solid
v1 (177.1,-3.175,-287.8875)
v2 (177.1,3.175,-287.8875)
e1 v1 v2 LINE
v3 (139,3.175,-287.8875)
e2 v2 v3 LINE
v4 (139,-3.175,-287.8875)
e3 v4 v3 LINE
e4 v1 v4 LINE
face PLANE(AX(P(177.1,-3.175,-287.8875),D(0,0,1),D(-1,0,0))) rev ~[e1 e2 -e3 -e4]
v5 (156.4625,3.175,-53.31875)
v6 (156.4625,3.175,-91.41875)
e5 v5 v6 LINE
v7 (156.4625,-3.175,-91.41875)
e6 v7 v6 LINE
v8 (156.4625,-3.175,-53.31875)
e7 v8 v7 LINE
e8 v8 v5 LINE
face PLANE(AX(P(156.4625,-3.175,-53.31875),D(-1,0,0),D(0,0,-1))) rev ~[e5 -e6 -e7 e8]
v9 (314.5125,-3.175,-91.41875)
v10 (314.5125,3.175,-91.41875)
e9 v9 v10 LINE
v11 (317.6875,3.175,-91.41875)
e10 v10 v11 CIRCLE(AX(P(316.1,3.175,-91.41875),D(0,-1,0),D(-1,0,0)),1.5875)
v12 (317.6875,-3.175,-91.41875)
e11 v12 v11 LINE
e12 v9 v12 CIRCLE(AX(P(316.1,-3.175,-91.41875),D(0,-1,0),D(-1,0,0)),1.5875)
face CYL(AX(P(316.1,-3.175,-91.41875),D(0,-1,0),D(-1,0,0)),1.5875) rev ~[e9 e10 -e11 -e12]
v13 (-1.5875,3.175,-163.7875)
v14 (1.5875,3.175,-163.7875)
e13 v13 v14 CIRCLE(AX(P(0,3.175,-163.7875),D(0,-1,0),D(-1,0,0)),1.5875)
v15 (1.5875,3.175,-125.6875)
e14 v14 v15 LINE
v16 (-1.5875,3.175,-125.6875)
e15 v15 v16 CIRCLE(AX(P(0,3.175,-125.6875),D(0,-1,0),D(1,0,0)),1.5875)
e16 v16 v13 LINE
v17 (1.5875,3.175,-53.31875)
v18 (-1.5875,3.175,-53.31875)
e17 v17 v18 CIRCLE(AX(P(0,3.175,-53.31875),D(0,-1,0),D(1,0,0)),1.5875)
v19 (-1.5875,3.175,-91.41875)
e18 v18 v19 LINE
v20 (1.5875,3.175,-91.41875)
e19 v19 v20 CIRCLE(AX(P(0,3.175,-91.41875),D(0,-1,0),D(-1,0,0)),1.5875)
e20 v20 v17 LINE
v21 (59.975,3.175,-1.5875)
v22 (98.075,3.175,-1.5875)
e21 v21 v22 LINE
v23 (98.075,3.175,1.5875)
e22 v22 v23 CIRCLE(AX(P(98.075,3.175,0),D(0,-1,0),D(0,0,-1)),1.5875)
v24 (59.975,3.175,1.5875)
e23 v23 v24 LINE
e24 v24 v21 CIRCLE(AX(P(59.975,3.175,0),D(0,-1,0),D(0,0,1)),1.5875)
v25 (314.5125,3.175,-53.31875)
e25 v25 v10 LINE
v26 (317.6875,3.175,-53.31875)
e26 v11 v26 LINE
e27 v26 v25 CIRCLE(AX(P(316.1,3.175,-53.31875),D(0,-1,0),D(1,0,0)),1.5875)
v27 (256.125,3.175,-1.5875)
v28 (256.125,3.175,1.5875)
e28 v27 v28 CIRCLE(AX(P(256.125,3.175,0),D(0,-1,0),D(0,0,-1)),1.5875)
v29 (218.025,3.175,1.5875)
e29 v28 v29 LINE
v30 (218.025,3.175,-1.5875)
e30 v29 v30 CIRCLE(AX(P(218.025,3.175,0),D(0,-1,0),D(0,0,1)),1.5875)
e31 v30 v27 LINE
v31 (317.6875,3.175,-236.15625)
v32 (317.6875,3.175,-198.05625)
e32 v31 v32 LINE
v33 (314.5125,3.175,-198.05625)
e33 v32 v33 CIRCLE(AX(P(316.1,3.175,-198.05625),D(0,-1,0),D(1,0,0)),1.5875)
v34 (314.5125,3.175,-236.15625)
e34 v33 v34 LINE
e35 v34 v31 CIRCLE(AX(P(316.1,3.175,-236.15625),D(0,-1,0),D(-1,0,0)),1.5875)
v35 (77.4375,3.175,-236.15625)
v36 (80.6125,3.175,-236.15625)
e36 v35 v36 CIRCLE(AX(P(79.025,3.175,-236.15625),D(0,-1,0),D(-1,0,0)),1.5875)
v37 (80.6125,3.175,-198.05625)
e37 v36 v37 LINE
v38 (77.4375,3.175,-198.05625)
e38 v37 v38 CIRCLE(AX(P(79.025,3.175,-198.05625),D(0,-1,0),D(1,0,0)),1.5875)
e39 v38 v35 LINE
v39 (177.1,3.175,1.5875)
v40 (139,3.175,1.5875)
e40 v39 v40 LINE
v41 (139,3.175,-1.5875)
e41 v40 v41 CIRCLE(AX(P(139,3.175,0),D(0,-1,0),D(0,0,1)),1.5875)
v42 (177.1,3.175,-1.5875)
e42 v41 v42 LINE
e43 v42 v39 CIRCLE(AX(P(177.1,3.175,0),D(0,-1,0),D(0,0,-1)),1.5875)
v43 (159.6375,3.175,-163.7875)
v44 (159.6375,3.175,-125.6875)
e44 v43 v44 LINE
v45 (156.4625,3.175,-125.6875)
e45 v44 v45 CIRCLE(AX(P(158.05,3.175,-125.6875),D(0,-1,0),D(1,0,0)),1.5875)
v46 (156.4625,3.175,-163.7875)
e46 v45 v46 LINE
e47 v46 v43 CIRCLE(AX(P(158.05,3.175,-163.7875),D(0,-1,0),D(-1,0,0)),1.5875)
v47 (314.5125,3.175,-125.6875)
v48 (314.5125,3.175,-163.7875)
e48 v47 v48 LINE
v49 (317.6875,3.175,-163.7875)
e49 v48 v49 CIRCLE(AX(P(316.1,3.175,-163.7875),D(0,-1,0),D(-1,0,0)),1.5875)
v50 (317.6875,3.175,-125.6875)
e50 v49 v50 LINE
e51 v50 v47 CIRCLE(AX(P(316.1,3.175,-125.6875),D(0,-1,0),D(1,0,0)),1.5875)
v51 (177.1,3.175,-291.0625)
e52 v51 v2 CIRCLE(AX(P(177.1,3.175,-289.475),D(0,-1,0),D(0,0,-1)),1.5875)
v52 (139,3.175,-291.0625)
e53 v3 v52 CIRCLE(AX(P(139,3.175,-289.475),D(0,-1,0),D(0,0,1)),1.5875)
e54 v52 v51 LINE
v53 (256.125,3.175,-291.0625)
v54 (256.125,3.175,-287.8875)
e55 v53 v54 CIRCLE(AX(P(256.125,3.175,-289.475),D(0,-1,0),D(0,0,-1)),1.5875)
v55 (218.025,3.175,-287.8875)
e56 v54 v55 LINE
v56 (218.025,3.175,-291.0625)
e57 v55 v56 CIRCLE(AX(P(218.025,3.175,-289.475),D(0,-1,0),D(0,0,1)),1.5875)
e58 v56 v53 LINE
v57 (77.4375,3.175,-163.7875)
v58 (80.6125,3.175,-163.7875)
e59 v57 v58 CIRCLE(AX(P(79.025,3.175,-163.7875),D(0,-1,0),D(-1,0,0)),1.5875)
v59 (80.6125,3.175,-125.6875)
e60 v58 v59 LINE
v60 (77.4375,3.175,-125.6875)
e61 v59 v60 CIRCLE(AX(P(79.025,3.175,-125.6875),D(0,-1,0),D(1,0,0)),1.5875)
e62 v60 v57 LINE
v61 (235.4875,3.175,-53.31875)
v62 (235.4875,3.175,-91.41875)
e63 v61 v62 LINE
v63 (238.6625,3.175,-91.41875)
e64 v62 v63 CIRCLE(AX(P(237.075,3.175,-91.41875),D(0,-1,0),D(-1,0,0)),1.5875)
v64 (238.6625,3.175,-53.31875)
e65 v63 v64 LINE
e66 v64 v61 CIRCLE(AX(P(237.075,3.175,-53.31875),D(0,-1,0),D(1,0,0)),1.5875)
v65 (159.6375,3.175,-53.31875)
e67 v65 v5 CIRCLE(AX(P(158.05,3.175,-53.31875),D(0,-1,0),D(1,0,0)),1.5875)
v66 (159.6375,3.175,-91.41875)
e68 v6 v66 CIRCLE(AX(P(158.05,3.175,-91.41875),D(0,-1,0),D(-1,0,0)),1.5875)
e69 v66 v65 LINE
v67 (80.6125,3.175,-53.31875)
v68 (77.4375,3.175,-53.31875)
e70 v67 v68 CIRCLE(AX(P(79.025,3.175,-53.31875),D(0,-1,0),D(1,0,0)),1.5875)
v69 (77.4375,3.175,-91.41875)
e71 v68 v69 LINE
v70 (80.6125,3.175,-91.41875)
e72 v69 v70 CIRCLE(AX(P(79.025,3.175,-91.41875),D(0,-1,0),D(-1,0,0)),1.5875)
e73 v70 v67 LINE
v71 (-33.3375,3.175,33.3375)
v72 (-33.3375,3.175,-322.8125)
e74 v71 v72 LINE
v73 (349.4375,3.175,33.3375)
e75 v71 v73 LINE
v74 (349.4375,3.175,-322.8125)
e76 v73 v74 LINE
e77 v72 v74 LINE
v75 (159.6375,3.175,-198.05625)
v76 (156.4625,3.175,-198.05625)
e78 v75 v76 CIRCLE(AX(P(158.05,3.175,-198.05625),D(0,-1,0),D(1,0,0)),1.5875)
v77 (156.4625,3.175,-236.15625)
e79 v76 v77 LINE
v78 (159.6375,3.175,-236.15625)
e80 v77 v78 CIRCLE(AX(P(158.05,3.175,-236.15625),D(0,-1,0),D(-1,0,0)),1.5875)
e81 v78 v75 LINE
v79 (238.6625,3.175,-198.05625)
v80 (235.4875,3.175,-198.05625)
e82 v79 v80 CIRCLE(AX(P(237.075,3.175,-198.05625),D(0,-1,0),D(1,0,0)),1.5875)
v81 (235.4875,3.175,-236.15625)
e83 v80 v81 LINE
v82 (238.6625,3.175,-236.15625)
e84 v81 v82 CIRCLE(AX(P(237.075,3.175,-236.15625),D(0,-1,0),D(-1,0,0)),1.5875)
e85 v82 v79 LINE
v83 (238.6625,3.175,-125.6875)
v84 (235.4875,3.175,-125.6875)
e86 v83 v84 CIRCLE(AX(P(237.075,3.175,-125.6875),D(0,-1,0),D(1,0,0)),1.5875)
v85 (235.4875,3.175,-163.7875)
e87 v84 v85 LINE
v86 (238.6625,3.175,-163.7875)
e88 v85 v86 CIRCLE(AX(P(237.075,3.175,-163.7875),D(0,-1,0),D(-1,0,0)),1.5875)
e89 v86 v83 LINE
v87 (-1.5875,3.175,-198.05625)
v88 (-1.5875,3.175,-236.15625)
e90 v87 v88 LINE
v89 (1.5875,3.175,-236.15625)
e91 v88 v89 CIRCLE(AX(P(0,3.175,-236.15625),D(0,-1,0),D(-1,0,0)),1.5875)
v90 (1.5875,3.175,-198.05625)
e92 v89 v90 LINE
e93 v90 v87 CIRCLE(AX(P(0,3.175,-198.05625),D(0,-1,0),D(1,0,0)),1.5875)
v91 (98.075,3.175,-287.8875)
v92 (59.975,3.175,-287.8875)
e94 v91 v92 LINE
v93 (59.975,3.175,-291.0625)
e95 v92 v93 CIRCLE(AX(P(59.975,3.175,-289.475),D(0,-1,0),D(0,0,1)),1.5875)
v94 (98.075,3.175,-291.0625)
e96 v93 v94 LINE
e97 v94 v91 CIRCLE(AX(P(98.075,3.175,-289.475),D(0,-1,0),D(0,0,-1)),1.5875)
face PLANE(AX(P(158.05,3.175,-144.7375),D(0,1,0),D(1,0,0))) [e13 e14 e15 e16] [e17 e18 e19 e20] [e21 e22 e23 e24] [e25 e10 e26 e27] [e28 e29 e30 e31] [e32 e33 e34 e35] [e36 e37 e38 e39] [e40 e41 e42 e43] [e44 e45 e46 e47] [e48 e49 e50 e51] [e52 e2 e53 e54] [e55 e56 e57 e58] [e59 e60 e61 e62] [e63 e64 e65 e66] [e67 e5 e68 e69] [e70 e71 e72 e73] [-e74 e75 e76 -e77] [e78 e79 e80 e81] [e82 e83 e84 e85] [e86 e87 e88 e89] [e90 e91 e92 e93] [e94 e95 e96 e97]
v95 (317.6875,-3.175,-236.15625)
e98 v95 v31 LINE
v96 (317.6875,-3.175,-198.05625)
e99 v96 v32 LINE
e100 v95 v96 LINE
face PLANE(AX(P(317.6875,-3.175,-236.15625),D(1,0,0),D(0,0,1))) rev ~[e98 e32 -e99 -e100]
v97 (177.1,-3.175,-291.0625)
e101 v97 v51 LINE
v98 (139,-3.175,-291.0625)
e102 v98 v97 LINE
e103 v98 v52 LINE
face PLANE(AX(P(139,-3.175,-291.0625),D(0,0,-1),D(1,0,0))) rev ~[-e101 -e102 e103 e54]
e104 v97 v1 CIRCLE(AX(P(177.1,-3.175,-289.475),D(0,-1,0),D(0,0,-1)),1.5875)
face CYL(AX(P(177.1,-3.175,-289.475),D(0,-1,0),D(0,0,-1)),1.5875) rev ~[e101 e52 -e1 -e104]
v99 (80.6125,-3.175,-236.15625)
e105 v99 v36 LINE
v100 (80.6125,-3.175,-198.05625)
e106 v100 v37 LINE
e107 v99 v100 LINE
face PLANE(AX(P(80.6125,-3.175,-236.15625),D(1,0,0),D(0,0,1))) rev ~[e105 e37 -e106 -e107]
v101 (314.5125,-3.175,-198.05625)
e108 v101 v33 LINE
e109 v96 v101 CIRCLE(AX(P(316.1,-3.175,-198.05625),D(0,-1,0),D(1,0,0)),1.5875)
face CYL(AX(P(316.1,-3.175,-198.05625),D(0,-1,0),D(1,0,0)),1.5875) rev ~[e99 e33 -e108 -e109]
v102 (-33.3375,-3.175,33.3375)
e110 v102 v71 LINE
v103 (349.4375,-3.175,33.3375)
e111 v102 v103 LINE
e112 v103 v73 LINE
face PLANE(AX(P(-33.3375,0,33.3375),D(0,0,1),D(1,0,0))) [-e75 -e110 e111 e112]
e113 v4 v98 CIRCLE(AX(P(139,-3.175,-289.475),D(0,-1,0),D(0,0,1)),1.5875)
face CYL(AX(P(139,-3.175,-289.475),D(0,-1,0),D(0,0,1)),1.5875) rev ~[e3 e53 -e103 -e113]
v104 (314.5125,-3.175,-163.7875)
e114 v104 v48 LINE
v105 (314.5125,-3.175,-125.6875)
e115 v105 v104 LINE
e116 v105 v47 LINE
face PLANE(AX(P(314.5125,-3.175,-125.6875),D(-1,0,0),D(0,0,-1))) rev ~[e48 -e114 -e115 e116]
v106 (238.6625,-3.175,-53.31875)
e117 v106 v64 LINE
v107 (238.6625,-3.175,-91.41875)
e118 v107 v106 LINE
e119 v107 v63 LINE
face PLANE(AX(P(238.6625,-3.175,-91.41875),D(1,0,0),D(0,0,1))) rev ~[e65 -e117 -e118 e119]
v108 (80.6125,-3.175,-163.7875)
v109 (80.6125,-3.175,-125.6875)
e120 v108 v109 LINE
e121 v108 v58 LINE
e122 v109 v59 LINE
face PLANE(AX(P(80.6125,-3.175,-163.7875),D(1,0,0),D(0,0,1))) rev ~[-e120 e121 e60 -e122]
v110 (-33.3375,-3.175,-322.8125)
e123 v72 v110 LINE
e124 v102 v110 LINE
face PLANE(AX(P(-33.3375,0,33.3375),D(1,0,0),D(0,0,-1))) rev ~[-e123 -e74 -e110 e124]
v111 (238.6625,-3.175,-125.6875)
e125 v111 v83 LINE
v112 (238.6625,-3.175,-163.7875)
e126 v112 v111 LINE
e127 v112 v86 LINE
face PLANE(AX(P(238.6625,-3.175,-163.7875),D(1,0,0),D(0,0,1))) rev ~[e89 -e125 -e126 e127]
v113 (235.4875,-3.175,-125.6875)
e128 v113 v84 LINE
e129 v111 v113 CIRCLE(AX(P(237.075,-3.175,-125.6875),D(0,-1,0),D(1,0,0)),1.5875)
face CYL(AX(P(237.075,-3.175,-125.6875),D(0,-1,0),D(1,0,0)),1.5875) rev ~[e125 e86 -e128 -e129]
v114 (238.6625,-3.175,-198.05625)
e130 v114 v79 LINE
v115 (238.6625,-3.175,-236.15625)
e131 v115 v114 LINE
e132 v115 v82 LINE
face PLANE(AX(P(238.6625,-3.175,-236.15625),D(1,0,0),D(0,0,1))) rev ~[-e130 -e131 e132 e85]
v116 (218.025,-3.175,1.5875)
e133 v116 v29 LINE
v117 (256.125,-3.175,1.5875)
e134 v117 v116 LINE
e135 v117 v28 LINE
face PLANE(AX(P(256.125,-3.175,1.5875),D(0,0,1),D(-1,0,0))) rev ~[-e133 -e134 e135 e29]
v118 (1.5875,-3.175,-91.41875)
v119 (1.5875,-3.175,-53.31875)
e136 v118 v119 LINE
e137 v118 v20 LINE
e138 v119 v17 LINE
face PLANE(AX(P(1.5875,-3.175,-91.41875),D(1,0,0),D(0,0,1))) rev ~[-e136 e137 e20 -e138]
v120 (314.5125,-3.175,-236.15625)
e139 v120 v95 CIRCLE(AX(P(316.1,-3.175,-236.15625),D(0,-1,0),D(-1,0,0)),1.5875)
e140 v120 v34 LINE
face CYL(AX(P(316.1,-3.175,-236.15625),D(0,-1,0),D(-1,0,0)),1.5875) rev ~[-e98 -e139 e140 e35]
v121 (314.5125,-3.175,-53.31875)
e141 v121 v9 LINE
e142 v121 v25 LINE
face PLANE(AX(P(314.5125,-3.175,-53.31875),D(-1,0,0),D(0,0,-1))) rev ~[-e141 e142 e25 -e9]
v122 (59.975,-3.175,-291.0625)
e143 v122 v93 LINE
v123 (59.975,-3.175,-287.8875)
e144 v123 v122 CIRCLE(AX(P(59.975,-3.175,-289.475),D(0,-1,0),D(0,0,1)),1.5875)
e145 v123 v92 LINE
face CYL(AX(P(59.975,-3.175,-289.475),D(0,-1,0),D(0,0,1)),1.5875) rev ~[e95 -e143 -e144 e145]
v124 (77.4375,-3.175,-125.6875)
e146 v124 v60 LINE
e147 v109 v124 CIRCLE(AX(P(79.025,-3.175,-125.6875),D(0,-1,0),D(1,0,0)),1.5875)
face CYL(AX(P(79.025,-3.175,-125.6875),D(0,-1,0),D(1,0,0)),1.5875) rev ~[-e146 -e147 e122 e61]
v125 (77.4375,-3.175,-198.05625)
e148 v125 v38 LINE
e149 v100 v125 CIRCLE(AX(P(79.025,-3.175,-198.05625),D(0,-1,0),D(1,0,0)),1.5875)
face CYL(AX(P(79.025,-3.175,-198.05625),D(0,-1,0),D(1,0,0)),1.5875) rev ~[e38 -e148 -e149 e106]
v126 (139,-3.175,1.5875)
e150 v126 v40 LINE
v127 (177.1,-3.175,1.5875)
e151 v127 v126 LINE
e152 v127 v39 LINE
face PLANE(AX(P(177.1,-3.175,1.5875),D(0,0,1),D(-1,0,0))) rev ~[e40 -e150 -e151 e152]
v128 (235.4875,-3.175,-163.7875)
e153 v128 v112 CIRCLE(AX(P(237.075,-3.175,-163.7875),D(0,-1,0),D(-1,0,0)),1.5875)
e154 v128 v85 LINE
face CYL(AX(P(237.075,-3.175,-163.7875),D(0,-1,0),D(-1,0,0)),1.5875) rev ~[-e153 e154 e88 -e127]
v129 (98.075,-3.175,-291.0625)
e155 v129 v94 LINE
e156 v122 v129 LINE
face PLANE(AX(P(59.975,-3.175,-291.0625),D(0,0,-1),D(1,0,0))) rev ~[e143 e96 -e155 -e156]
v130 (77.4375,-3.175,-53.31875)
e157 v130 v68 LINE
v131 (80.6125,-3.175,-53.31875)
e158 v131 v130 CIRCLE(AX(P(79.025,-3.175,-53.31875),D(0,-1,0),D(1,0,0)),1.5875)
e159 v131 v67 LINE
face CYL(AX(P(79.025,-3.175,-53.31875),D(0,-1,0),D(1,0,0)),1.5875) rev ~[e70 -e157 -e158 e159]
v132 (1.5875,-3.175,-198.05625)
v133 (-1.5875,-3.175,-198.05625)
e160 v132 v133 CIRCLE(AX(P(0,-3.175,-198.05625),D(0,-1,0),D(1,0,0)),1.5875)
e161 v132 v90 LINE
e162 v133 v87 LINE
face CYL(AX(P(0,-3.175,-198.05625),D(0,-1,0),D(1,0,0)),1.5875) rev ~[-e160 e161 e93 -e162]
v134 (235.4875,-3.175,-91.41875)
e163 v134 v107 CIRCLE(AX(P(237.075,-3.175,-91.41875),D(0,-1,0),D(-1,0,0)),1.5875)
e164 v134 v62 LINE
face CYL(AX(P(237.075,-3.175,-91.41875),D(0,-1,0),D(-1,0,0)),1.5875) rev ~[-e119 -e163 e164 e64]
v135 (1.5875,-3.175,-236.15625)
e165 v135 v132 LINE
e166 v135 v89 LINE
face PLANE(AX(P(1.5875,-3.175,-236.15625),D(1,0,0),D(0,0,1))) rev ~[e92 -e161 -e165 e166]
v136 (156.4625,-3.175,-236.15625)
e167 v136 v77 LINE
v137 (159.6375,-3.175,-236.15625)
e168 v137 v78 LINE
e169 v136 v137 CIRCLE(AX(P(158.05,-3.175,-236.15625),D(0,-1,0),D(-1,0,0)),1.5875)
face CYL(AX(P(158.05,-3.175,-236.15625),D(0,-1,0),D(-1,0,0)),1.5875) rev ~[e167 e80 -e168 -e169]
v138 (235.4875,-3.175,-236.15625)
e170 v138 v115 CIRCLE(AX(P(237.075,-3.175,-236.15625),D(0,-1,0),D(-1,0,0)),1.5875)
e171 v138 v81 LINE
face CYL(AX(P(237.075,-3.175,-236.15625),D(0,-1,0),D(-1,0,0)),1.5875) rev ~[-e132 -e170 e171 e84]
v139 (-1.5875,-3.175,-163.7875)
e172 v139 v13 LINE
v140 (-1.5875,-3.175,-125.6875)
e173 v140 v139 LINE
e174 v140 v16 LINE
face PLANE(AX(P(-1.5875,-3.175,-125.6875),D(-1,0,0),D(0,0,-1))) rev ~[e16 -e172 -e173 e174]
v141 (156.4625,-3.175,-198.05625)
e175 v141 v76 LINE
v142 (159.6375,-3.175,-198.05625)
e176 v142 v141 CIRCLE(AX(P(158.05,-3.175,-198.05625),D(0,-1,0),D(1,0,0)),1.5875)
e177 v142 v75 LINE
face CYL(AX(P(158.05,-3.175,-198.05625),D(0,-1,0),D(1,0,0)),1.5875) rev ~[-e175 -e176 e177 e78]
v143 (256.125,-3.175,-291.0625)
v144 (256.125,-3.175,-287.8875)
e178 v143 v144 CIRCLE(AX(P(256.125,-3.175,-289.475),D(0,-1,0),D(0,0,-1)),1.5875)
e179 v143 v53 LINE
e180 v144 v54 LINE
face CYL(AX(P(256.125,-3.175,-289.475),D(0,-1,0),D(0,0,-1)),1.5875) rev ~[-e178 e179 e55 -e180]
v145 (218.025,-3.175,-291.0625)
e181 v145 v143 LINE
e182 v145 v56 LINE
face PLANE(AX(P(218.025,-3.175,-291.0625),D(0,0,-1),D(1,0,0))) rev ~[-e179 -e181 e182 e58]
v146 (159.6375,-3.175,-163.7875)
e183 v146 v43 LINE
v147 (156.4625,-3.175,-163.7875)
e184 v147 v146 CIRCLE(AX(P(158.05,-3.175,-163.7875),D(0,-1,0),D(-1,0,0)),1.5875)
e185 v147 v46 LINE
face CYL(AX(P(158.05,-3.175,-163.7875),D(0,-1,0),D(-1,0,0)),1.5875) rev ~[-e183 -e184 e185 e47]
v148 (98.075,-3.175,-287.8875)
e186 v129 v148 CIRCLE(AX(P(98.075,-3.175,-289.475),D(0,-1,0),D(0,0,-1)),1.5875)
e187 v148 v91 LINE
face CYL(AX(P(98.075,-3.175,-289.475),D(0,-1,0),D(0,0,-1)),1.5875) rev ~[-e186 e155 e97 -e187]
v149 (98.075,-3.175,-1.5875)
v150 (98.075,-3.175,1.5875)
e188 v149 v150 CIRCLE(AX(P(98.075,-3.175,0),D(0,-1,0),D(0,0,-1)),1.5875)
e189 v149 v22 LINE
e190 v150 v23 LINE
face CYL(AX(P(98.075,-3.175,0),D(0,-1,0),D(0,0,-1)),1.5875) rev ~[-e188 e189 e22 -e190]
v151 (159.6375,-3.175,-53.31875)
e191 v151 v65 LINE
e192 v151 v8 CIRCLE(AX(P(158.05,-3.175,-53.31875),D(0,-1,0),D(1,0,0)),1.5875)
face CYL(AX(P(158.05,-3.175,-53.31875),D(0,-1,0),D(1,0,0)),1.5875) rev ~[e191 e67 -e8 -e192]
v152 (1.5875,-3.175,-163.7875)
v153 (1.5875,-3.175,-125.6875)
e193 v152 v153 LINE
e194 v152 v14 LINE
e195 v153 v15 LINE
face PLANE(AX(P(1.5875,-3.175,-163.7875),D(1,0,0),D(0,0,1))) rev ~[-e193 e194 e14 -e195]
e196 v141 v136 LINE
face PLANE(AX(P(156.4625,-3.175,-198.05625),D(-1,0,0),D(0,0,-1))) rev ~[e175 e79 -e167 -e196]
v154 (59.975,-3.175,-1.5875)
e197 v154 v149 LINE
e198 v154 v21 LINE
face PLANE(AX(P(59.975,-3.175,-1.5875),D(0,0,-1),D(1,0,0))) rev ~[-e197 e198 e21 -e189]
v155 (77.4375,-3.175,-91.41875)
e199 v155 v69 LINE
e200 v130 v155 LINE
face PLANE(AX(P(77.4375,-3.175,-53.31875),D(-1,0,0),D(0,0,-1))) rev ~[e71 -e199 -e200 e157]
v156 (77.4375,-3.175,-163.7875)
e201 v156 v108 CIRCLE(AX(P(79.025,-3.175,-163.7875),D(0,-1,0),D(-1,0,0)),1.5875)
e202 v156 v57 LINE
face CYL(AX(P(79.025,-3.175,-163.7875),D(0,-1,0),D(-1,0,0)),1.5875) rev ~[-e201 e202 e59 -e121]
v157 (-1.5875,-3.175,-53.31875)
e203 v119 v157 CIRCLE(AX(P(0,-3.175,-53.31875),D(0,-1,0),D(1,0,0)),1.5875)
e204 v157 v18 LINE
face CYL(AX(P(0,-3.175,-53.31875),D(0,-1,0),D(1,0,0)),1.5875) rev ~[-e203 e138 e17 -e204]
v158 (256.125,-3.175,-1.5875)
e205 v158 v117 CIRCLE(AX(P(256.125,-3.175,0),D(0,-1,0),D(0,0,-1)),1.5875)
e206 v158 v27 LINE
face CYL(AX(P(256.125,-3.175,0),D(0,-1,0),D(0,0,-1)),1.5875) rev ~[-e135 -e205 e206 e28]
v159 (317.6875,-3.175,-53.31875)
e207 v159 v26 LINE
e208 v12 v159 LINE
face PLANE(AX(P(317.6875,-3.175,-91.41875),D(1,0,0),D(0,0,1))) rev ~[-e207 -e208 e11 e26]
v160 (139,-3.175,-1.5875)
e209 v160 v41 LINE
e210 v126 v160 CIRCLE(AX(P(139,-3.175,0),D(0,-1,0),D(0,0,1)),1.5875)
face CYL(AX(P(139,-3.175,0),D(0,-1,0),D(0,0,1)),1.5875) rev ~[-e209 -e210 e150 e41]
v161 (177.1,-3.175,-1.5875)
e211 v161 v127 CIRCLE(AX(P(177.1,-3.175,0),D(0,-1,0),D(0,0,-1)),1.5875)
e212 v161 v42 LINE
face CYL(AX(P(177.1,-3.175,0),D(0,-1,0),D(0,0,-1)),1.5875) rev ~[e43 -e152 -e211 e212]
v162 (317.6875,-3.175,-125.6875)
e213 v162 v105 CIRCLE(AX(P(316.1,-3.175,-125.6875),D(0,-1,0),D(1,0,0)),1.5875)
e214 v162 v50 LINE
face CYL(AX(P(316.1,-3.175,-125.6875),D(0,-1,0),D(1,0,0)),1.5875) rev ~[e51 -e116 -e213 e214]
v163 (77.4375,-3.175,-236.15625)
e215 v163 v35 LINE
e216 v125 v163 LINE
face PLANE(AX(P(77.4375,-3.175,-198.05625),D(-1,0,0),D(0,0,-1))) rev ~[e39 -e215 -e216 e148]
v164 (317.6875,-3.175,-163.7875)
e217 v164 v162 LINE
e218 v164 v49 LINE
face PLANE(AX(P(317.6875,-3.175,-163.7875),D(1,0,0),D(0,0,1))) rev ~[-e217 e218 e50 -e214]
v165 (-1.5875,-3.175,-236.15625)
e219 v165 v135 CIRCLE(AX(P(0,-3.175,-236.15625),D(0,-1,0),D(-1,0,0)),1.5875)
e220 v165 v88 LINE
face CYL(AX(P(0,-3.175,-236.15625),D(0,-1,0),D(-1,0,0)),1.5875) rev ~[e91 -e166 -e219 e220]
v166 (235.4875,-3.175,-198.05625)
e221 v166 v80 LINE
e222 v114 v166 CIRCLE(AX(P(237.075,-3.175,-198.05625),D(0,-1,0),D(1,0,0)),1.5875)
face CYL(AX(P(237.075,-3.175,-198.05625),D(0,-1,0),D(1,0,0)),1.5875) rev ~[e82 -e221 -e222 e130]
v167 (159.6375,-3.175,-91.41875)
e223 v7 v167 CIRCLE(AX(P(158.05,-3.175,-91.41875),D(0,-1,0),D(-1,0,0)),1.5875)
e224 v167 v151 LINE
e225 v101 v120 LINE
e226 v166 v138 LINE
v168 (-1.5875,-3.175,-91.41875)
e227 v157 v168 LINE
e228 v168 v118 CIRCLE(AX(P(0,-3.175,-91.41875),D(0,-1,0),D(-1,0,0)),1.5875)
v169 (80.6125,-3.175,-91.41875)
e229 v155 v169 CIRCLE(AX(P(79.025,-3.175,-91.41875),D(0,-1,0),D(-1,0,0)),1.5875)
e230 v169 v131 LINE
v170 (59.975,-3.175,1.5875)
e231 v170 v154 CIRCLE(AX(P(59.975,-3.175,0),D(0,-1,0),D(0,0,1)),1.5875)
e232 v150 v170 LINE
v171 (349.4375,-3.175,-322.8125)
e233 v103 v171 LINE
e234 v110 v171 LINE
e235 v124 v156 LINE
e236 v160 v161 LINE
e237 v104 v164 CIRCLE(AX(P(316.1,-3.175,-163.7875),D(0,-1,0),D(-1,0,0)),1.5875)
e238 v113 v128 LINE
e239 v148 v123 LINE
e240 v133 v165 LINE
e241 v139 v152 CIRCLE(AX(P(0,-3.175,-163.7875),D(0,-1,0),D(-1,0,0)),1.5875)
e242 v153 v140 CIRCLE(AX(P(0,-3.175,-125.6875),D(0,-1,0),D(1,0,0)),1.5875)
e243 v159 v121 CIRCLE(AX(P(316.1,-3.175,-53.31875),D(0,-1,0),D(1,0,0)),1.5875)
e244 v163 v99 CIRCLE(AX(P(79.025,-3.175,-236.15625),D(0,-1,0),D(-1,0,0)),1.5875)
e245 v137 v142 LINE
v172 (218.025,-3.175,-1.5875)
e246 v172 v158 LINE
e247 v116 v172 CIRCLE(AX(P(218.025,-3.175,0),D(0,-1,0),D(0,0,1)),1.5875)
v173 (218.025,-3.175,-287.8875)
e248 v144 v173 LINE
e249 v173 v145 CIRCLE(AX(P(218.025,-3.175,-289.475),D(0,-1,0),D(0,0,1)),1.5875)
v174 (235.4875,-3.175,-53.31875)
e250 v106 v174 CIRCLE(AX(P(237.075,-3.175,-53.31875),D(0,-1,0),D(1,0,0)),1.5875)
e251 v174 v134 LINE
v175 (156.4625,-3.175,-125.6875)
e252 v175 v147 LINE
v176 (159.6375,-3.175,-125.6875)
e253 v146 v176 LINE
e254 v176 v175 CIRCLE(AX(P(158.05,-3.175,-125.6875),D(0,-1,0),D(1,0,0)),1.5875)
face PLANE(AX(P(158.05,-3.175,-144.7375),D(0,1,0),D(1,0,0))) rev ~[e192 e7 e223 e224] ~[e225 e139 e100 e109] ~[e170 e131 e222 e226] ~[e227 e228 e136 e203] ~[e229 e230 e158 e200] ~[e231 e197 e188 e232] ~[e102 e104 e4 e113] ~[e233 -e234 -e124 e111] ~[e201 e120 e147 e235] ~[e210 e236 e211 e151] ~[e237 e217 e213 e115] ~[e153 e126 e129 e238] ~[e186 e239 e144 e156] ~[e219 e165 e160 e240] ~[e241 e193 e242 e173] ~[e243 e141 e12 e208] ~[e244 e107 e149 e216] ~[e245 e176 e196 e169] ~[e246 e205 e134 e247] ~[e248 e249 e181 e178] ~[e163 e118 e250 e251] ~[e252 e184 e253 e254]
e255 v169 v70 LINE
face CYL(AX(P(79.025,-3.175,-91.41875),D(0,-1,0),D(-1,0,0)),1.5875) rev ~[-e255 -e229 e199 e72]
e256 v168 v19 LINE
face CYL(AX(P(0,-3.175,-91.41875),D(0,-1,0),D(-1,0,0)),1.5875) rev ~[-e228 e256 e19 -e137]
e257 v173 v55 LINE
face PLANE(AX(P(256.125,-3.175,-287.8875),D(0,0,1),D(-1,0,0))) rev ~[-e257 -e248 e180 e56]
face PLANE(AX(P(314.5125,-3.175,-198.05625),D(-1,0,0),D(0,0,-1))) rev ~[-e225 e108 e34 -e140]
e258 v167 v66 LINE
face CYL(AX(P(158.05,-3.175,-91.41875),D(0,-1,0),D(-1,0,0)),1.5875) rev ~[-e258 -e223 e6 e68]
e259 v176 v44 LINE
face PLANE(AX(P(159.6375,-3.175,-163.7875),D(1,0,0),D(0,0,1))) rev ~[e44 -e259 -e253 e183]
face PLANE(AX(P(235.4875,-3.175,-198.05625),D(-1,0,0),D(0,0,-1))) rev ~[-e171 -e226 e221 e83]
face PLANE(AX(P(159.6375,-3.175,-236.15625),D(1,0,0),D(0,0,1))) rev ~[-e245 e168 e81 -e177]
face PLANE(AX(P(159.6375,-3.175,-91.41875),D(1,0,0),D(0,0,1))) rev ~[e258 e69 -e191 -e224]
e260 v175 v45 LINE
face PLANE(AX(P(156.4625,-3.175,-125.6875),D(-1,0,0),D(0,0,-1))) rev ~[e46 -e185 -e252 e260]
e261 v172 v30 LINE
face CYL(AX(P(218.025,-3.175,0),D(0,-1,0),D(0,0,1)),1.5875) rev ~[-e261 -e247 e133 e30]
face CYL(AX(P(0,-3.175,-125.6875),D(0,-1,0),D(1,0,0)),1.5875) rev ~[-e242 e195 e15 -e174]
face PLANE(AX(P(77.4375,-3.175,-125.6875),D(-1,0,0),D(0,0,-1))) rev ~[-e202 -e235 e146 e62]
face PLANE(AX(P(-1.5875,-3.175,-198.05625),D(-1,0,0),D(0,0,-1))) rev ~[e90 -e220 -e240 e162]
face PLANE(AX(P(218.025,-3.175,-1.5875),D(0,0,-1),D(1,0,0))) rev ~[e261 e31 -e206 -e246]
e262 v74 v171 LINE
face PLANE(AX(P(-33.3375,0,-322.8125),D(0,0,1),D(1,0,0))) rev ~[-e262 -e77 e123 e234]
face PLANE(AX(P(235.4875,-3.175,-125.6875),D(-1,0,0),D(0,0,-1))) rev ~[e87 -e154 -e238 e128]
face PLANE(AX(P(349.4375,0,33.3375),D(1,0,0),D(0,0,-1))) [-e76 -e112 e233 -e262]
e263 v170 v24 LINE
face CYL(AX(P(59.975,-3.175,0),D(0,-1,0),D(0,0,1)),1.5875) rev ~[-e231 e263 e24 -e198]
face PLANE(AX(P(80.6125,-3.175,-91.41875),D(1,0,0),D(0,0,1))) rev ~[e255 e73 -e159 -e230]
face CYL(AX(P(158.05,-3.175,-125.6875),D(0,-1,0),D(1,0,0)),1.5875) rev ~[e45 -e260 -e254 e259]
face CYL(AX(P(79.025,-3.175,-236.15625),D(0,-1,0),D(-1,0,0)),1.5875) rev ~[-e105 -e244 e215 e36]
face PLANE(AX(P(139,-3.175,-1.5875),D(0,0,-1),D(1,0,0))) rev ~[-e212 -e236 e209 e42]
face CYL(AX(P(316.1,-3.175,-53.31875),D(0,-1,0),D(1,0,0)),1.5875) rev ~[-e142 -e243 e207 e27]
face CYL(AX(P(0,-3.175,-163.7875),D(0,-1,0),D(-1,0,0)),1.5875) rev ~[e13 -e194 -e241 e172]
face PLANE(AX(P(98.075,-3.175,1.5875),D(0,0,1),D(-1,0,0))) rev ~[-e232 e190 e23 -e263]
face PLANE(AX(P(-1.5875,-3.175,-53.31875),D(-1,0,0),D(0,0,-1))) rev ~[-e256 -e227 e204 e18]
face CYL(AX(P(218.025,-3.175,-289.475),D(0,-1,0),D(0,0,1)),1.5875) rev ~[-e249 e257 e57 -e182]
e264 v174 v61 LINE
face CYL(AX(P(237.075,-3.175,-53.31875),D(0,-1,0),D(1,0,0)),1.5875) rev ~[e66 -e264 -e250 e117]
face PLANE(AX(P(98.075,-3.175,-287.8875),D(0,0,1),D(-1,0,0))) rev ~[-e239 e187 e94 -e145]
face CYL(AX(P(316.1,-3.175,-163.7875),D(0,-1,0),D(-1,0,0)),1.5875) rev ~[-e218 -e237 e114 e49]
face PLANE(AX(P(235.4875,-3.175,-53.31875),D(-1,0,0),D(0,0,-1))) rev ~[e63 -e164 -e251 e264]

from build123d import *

# Parameters (mm, degrees)
SKETCH1_W                              = 382.775
SKETCH1_H                              = 356.150000032
BOSS_EXTRUDE1_DEPTH                    = 3.175
OUTER_SIDE_WALL_WELD_TAB_CUTOUTS_DEPTH = 6.35
CUT_EXTRUDE2_DEPTH                     = 6.35
CUT_EXTRUDE3_DEPTH                     = 6.35


with BuildPart() as part:
    # Sketch1 → Boss-Extrude1 (new body, symmetric)
    with BuildSketch(Plane(origin=(0, 0, 0), x_dir=(1, 0, 0), z_dir=(0, 1, 0))):
        with Locations((158.05, 144.737500016)):
            Rectangle(SKETCH1_W, SKETCH1_H)
    extrude(amount=BOSS_EXTRUDE1_DEPTH, both=True)

    # Sketch3 → Outer Side Wall Weld Tab Cutouts (cut)
    with BuildSketch(Plane(origin=(0, -3.175, 0), x_dir=(1, 0, 0), z_dir=(0, 1, 0))):
        with BuildLine():
            Line((314.5125, 53.318750008), (314.5125, 91.418750008))
            ThreePointArc((314.5125, 91.418750008), (316.1, 93.006250008), (317.6875, 91.418750008))
            Line((317.6875, 91.418750008), (317.6875, 53.318750008))
            ThreePointArc((317.6875, 53.318750008), (316.1, 51.731250008), (314.5125, 53.318750008))
        make_face()
        with BuildLine():
            Line((-1.5875, 53.318750008), (-1.5875, 91.418750008))
            ThreePointArc((-1.5875, 91.418750008), (0, 93.006250008), (1.5875, 91.418750008))
            Line((1.5875, 91.418750008), (1.5875, 53.318750008))
            ThreePointArc((1.5875, 53.318750008), (0, 51.731250008), (-1.5875, 53.318750008))
        make_face()
        with BuildLine():
            Line((314.5125, 125.687500016), (314.5125, 163.787500016))
            ThreePointArc((314.5125, 163.787500016), (316.1, 165.375000016), (317.6875, 163.787500016))
            Line((317.6875, 163.787500016), (317.6875, 125.687500016))
            ThreePointArc((317.6875, 125.687500016), (316.1, 124.100000016), (314.5125, 125.687500016))
        make_face()
        with BuildLine():
            Line((314.5125, 198.056250024), (314.5125, 236.156250024))
            ThreePointArc((314.5125, 236.156250024), (316.1, 237.743750024), (317.6875, 236.156250024))
            Line((317.6875, 236.156250024), (317.6875, 198.056250024))
            ThreePointArc((317.6875, 198.056250024), (316.1, 196.468750024), (314.5125, 198.056250024))
        make_face()
        with BuildLine():
            Line((-1.5875, 125.687500016), (-1.5875, 163.787500016))
            ThreePointArc((-1.5875, 163.787500016), (0, 165.375000016), (1.5875, 163.787500016))
            Line((1.5875, 163.787500016), (1.5875, 125.687500016))
            ThreePointArc((1.5875, 125.687500016), (0, 124.100000016), (-1.5875, 125.687500016))
        make_face()
        with BuildLine():
            Line((-1.5875, 198.056250024), (-1.5875, 236.156250024))
            ThreePointArc((-1.5875, 236.156250024), (0, 237.743750024), (1.5875, 236.156250024))
            Line((1.5875, 236.156250024), (1.5875, 198.056250024))
            ThreePointArc((1.5875, 198.056250024), (0, 196.468750024), (-1.5875, 198.056250024))
        make_face()
    extrude(amount=OUTER_SIDE_WALL_WELD_TAB_CUTOUTS_DEPTH, mode=Mode.SUBTRACT)

    # Sketch4 → Cut-Extrude2 (cut)
    with BuildSketch(Plane(origin=(0, -3.175, 0), x_dir=(1, 0, 0), z_dir=(0, 1, 0))):
        with BuildLine():
            Line((156.4625, 53.318750008), (156.4625, 91.418750008))
            ThreePointArc((156.4625, 91.418750008), (158.05, 93.006250008), (159.6375, 91.418750008))
            Line((159.6375, 91.418750008), (159.6375, 53.318750008))
            ThreePointArc((159.6375, 53.318750008), (158.05, 51.731250008), (156.4625, 53.318750008))
        make_face()
        with BuildLine():
            Line((77.4375, 53.318750008), (77.4375, 91.418750008))
            ThreePointArc((77.4375, 91.418750008), (79.025, 93.006250008), (80.6125, 91.418750008))
            Line((80.6125, 91.418750008), (80.6125, 53.318750008))
            ThreePointArc((80.6125, 53.318750008), (79.025, 51.731250008), (77.4375, 53.318750008))
        make_face()
        with BuildLine():
            Line((235.4875, 53.318750008), (235.4875, 91.418750008))
            ThreePointArc((235.4875, 91.418750008), (237.075, 93.006250008), (238.6625, 91.418750008))
            Line((238.6625, 91.418750008), (238.6625, 53.318750008))
            ThreePointArc((238.6625, 53.318750008), (237.075, 51.731250008), (235.4875, 53.318750008))
        make_face()
        with BuildLine():
            Line((156.4625, 125.687500016), (156.4625, 163.787500016))
            ThreePointArc((156.4625, 163.787500016), (158.05, 165.375000016), (159.6375, 163.787500016))
            Line((159.6375, 163.787500016), (159.6375, 125.687500016))
            ThreePointArc((159.6375, 125.687500016), (158.05, 124.100000016), (156.4625, 125.687500016))
        make_face()
        with BuildLine():
            Line((235.4875, 125.687500016), (235.4875, 163.787500016))
            ThreePointArc((235.4875, 163.787500016), (237.075, 165.375000016), (238.6625, 163.787500016))
            Line((238.6625, 163.787500016), (238.6625, 125.687500016))
            ThreePointArc((238.6625, 125.687500016), (237.075, 124.100000016), (235.4875, 125.687500016))
        make_face()
        with BuildLine():
            Line((156.4625, 198.056250024), (156.4625, 236.156250024))
            ThreePointArc((156.4625, 236.156250024), (158.05, 237.743750024), (159.6375, 236.156250024))
            Line((159.6375, 236.156250024), (159.6375, 198.056250024))
            ThreePointArc((159.6375, 198.056250024), (158.05, 196.468750024), (156.4625, 198.056250024))
        make_face()
        with BuildLine():
            Line((235.4875, 198.056250024), (235.4875, 236.156250024))
            ThreePointArc((235.4875, 236.156250024), (237.075, 237.743750024), (238.6625, 236.156250024))
            Line((238.6625, 236.156250024), (238.6625, 198.056250024))
            ThreePointArc((238.6625, 198.056250024), (237.075, 196.468750024), (235.4875, 198.056250024))
        make_face()
        with BuildLine():
            Line((77.4375, 125.687500016), (77.4375, 163.787500016))
            ThreePointArc((77.4375, 163.787500016), (79.025, 165.375000016), (80.6125, 163.787500016))
            Line((80.6125, 163.787500016), (80.6125, 125.687500016))
            ThreePointArc((80.6125, 125.687500016), (79.025, 124.100000016), (77.4375, 125.687500016))
        make_face()
        with BuildLine():
            Line((77.4375, 198.056250024), (77.4375, 236.156250024))
            ThreePointArc((77.4375, 236.156250024), (79.025, 237.743750024), (80.6125, 236.156250024))
            Line((80.6125, 236.156250024), (80.6125, 198.056250024))
            ThreePointArc((80.6125, 198.056250024), (79.025, 196.468750024), (77.4375, 198.056250024))
        make_face()
    extrude(amount=CUT_EXTRUDE2_DEPTH, mode=Mode.SUBTRACT)

    # Sketch5 → Cut-Extrude3 (cut)
    with BuildSketch(Plane(origin=(0, -3.175, 0), x_dir=(1, 0, 0), z_dir=(0, 1, 0))):
        with BuildLine():
            Line((139, 1.5875), (177.1, 1.5875))
            ThreePointArc((177.1, 1.5875), (178.6875, 0), (177.1, -1.5875))
            Line((177.1, -1.5875), (139, -1.5875))
            ThreePointArc((139, -1.5875), (137.4125, 0), (139, 1.5875))
        make_face()
        with BuildLine():
            Line((59.975, 1.5875), (98.075, 1.5875))
            ThreePointArc((98.075, 1.5875), (99.6625, 0), (98.075, -1.5875))
            Line((98.075, -1.5875), (59.975, -1.5875))
            ThreePointArc((59.975, -1.5875), (58.3875, 0), (59.975, 1.5875))
        make_face()
        with BuildLine():
            Line((218.025, 1.5875), (256.125, 1.5875))
            ThreePointArc((256.125, 1.5875), (257.7125, 0), (256.125, -1.5875))
            Line((256.125, -1.5875), (218.025, -1.5875))
            ThreePointArc((218.025, -1.5875), (216.4375, 0), (218.025, 1.5875))
        make_face()
        with BuildLine():
            Line((139, 291.062500032), (177.1, 291.062500032))
            ThreePointArc((177.1, 291.062500032), (178.6875, 289.475000032), (177.1, 287.887500032))
            Line((177.1, 287.887500032), (139, 287.887500032))
            ThreePointArc((139, 287.887500032), (137.4125, 289.475000032), (139, 291.062500032))
        make_face()
        with BuildLine():
            Line((218.025, 291.062500032), (256.125, 291.062500032))
            ThreePointArc((256.125, 291.062500032), (257.7125, 289.475000032), (256.125, 287.887500032))
            Line((256.125, 287.887500032), (218.025, 287.887500032))
            ThreePointArc((218.025, 287.887500032), (216.4375, 289.475000032), (218.025, 291.062500032))
        make_face()
        with BuildLine():
            Line((59.975, 291.062500032), (98.075, 291.062500032))
            ThreePointArc((98.075, 291.062500032), (99.6625, 289.475000032), (98.075, 287.887500032))
            Line((98.075, 287.887500032), (59.975, 287.887500032))
            ThreePointArc((59.975, 287.887500032), (58.3875, 289.475000032), (59.975, 291.062500032))
        make_face()
    extrude(amount=CUT_EXTRUDE3_DEPTH, mode=Mode.SUBTRACT)


solid = part.part
